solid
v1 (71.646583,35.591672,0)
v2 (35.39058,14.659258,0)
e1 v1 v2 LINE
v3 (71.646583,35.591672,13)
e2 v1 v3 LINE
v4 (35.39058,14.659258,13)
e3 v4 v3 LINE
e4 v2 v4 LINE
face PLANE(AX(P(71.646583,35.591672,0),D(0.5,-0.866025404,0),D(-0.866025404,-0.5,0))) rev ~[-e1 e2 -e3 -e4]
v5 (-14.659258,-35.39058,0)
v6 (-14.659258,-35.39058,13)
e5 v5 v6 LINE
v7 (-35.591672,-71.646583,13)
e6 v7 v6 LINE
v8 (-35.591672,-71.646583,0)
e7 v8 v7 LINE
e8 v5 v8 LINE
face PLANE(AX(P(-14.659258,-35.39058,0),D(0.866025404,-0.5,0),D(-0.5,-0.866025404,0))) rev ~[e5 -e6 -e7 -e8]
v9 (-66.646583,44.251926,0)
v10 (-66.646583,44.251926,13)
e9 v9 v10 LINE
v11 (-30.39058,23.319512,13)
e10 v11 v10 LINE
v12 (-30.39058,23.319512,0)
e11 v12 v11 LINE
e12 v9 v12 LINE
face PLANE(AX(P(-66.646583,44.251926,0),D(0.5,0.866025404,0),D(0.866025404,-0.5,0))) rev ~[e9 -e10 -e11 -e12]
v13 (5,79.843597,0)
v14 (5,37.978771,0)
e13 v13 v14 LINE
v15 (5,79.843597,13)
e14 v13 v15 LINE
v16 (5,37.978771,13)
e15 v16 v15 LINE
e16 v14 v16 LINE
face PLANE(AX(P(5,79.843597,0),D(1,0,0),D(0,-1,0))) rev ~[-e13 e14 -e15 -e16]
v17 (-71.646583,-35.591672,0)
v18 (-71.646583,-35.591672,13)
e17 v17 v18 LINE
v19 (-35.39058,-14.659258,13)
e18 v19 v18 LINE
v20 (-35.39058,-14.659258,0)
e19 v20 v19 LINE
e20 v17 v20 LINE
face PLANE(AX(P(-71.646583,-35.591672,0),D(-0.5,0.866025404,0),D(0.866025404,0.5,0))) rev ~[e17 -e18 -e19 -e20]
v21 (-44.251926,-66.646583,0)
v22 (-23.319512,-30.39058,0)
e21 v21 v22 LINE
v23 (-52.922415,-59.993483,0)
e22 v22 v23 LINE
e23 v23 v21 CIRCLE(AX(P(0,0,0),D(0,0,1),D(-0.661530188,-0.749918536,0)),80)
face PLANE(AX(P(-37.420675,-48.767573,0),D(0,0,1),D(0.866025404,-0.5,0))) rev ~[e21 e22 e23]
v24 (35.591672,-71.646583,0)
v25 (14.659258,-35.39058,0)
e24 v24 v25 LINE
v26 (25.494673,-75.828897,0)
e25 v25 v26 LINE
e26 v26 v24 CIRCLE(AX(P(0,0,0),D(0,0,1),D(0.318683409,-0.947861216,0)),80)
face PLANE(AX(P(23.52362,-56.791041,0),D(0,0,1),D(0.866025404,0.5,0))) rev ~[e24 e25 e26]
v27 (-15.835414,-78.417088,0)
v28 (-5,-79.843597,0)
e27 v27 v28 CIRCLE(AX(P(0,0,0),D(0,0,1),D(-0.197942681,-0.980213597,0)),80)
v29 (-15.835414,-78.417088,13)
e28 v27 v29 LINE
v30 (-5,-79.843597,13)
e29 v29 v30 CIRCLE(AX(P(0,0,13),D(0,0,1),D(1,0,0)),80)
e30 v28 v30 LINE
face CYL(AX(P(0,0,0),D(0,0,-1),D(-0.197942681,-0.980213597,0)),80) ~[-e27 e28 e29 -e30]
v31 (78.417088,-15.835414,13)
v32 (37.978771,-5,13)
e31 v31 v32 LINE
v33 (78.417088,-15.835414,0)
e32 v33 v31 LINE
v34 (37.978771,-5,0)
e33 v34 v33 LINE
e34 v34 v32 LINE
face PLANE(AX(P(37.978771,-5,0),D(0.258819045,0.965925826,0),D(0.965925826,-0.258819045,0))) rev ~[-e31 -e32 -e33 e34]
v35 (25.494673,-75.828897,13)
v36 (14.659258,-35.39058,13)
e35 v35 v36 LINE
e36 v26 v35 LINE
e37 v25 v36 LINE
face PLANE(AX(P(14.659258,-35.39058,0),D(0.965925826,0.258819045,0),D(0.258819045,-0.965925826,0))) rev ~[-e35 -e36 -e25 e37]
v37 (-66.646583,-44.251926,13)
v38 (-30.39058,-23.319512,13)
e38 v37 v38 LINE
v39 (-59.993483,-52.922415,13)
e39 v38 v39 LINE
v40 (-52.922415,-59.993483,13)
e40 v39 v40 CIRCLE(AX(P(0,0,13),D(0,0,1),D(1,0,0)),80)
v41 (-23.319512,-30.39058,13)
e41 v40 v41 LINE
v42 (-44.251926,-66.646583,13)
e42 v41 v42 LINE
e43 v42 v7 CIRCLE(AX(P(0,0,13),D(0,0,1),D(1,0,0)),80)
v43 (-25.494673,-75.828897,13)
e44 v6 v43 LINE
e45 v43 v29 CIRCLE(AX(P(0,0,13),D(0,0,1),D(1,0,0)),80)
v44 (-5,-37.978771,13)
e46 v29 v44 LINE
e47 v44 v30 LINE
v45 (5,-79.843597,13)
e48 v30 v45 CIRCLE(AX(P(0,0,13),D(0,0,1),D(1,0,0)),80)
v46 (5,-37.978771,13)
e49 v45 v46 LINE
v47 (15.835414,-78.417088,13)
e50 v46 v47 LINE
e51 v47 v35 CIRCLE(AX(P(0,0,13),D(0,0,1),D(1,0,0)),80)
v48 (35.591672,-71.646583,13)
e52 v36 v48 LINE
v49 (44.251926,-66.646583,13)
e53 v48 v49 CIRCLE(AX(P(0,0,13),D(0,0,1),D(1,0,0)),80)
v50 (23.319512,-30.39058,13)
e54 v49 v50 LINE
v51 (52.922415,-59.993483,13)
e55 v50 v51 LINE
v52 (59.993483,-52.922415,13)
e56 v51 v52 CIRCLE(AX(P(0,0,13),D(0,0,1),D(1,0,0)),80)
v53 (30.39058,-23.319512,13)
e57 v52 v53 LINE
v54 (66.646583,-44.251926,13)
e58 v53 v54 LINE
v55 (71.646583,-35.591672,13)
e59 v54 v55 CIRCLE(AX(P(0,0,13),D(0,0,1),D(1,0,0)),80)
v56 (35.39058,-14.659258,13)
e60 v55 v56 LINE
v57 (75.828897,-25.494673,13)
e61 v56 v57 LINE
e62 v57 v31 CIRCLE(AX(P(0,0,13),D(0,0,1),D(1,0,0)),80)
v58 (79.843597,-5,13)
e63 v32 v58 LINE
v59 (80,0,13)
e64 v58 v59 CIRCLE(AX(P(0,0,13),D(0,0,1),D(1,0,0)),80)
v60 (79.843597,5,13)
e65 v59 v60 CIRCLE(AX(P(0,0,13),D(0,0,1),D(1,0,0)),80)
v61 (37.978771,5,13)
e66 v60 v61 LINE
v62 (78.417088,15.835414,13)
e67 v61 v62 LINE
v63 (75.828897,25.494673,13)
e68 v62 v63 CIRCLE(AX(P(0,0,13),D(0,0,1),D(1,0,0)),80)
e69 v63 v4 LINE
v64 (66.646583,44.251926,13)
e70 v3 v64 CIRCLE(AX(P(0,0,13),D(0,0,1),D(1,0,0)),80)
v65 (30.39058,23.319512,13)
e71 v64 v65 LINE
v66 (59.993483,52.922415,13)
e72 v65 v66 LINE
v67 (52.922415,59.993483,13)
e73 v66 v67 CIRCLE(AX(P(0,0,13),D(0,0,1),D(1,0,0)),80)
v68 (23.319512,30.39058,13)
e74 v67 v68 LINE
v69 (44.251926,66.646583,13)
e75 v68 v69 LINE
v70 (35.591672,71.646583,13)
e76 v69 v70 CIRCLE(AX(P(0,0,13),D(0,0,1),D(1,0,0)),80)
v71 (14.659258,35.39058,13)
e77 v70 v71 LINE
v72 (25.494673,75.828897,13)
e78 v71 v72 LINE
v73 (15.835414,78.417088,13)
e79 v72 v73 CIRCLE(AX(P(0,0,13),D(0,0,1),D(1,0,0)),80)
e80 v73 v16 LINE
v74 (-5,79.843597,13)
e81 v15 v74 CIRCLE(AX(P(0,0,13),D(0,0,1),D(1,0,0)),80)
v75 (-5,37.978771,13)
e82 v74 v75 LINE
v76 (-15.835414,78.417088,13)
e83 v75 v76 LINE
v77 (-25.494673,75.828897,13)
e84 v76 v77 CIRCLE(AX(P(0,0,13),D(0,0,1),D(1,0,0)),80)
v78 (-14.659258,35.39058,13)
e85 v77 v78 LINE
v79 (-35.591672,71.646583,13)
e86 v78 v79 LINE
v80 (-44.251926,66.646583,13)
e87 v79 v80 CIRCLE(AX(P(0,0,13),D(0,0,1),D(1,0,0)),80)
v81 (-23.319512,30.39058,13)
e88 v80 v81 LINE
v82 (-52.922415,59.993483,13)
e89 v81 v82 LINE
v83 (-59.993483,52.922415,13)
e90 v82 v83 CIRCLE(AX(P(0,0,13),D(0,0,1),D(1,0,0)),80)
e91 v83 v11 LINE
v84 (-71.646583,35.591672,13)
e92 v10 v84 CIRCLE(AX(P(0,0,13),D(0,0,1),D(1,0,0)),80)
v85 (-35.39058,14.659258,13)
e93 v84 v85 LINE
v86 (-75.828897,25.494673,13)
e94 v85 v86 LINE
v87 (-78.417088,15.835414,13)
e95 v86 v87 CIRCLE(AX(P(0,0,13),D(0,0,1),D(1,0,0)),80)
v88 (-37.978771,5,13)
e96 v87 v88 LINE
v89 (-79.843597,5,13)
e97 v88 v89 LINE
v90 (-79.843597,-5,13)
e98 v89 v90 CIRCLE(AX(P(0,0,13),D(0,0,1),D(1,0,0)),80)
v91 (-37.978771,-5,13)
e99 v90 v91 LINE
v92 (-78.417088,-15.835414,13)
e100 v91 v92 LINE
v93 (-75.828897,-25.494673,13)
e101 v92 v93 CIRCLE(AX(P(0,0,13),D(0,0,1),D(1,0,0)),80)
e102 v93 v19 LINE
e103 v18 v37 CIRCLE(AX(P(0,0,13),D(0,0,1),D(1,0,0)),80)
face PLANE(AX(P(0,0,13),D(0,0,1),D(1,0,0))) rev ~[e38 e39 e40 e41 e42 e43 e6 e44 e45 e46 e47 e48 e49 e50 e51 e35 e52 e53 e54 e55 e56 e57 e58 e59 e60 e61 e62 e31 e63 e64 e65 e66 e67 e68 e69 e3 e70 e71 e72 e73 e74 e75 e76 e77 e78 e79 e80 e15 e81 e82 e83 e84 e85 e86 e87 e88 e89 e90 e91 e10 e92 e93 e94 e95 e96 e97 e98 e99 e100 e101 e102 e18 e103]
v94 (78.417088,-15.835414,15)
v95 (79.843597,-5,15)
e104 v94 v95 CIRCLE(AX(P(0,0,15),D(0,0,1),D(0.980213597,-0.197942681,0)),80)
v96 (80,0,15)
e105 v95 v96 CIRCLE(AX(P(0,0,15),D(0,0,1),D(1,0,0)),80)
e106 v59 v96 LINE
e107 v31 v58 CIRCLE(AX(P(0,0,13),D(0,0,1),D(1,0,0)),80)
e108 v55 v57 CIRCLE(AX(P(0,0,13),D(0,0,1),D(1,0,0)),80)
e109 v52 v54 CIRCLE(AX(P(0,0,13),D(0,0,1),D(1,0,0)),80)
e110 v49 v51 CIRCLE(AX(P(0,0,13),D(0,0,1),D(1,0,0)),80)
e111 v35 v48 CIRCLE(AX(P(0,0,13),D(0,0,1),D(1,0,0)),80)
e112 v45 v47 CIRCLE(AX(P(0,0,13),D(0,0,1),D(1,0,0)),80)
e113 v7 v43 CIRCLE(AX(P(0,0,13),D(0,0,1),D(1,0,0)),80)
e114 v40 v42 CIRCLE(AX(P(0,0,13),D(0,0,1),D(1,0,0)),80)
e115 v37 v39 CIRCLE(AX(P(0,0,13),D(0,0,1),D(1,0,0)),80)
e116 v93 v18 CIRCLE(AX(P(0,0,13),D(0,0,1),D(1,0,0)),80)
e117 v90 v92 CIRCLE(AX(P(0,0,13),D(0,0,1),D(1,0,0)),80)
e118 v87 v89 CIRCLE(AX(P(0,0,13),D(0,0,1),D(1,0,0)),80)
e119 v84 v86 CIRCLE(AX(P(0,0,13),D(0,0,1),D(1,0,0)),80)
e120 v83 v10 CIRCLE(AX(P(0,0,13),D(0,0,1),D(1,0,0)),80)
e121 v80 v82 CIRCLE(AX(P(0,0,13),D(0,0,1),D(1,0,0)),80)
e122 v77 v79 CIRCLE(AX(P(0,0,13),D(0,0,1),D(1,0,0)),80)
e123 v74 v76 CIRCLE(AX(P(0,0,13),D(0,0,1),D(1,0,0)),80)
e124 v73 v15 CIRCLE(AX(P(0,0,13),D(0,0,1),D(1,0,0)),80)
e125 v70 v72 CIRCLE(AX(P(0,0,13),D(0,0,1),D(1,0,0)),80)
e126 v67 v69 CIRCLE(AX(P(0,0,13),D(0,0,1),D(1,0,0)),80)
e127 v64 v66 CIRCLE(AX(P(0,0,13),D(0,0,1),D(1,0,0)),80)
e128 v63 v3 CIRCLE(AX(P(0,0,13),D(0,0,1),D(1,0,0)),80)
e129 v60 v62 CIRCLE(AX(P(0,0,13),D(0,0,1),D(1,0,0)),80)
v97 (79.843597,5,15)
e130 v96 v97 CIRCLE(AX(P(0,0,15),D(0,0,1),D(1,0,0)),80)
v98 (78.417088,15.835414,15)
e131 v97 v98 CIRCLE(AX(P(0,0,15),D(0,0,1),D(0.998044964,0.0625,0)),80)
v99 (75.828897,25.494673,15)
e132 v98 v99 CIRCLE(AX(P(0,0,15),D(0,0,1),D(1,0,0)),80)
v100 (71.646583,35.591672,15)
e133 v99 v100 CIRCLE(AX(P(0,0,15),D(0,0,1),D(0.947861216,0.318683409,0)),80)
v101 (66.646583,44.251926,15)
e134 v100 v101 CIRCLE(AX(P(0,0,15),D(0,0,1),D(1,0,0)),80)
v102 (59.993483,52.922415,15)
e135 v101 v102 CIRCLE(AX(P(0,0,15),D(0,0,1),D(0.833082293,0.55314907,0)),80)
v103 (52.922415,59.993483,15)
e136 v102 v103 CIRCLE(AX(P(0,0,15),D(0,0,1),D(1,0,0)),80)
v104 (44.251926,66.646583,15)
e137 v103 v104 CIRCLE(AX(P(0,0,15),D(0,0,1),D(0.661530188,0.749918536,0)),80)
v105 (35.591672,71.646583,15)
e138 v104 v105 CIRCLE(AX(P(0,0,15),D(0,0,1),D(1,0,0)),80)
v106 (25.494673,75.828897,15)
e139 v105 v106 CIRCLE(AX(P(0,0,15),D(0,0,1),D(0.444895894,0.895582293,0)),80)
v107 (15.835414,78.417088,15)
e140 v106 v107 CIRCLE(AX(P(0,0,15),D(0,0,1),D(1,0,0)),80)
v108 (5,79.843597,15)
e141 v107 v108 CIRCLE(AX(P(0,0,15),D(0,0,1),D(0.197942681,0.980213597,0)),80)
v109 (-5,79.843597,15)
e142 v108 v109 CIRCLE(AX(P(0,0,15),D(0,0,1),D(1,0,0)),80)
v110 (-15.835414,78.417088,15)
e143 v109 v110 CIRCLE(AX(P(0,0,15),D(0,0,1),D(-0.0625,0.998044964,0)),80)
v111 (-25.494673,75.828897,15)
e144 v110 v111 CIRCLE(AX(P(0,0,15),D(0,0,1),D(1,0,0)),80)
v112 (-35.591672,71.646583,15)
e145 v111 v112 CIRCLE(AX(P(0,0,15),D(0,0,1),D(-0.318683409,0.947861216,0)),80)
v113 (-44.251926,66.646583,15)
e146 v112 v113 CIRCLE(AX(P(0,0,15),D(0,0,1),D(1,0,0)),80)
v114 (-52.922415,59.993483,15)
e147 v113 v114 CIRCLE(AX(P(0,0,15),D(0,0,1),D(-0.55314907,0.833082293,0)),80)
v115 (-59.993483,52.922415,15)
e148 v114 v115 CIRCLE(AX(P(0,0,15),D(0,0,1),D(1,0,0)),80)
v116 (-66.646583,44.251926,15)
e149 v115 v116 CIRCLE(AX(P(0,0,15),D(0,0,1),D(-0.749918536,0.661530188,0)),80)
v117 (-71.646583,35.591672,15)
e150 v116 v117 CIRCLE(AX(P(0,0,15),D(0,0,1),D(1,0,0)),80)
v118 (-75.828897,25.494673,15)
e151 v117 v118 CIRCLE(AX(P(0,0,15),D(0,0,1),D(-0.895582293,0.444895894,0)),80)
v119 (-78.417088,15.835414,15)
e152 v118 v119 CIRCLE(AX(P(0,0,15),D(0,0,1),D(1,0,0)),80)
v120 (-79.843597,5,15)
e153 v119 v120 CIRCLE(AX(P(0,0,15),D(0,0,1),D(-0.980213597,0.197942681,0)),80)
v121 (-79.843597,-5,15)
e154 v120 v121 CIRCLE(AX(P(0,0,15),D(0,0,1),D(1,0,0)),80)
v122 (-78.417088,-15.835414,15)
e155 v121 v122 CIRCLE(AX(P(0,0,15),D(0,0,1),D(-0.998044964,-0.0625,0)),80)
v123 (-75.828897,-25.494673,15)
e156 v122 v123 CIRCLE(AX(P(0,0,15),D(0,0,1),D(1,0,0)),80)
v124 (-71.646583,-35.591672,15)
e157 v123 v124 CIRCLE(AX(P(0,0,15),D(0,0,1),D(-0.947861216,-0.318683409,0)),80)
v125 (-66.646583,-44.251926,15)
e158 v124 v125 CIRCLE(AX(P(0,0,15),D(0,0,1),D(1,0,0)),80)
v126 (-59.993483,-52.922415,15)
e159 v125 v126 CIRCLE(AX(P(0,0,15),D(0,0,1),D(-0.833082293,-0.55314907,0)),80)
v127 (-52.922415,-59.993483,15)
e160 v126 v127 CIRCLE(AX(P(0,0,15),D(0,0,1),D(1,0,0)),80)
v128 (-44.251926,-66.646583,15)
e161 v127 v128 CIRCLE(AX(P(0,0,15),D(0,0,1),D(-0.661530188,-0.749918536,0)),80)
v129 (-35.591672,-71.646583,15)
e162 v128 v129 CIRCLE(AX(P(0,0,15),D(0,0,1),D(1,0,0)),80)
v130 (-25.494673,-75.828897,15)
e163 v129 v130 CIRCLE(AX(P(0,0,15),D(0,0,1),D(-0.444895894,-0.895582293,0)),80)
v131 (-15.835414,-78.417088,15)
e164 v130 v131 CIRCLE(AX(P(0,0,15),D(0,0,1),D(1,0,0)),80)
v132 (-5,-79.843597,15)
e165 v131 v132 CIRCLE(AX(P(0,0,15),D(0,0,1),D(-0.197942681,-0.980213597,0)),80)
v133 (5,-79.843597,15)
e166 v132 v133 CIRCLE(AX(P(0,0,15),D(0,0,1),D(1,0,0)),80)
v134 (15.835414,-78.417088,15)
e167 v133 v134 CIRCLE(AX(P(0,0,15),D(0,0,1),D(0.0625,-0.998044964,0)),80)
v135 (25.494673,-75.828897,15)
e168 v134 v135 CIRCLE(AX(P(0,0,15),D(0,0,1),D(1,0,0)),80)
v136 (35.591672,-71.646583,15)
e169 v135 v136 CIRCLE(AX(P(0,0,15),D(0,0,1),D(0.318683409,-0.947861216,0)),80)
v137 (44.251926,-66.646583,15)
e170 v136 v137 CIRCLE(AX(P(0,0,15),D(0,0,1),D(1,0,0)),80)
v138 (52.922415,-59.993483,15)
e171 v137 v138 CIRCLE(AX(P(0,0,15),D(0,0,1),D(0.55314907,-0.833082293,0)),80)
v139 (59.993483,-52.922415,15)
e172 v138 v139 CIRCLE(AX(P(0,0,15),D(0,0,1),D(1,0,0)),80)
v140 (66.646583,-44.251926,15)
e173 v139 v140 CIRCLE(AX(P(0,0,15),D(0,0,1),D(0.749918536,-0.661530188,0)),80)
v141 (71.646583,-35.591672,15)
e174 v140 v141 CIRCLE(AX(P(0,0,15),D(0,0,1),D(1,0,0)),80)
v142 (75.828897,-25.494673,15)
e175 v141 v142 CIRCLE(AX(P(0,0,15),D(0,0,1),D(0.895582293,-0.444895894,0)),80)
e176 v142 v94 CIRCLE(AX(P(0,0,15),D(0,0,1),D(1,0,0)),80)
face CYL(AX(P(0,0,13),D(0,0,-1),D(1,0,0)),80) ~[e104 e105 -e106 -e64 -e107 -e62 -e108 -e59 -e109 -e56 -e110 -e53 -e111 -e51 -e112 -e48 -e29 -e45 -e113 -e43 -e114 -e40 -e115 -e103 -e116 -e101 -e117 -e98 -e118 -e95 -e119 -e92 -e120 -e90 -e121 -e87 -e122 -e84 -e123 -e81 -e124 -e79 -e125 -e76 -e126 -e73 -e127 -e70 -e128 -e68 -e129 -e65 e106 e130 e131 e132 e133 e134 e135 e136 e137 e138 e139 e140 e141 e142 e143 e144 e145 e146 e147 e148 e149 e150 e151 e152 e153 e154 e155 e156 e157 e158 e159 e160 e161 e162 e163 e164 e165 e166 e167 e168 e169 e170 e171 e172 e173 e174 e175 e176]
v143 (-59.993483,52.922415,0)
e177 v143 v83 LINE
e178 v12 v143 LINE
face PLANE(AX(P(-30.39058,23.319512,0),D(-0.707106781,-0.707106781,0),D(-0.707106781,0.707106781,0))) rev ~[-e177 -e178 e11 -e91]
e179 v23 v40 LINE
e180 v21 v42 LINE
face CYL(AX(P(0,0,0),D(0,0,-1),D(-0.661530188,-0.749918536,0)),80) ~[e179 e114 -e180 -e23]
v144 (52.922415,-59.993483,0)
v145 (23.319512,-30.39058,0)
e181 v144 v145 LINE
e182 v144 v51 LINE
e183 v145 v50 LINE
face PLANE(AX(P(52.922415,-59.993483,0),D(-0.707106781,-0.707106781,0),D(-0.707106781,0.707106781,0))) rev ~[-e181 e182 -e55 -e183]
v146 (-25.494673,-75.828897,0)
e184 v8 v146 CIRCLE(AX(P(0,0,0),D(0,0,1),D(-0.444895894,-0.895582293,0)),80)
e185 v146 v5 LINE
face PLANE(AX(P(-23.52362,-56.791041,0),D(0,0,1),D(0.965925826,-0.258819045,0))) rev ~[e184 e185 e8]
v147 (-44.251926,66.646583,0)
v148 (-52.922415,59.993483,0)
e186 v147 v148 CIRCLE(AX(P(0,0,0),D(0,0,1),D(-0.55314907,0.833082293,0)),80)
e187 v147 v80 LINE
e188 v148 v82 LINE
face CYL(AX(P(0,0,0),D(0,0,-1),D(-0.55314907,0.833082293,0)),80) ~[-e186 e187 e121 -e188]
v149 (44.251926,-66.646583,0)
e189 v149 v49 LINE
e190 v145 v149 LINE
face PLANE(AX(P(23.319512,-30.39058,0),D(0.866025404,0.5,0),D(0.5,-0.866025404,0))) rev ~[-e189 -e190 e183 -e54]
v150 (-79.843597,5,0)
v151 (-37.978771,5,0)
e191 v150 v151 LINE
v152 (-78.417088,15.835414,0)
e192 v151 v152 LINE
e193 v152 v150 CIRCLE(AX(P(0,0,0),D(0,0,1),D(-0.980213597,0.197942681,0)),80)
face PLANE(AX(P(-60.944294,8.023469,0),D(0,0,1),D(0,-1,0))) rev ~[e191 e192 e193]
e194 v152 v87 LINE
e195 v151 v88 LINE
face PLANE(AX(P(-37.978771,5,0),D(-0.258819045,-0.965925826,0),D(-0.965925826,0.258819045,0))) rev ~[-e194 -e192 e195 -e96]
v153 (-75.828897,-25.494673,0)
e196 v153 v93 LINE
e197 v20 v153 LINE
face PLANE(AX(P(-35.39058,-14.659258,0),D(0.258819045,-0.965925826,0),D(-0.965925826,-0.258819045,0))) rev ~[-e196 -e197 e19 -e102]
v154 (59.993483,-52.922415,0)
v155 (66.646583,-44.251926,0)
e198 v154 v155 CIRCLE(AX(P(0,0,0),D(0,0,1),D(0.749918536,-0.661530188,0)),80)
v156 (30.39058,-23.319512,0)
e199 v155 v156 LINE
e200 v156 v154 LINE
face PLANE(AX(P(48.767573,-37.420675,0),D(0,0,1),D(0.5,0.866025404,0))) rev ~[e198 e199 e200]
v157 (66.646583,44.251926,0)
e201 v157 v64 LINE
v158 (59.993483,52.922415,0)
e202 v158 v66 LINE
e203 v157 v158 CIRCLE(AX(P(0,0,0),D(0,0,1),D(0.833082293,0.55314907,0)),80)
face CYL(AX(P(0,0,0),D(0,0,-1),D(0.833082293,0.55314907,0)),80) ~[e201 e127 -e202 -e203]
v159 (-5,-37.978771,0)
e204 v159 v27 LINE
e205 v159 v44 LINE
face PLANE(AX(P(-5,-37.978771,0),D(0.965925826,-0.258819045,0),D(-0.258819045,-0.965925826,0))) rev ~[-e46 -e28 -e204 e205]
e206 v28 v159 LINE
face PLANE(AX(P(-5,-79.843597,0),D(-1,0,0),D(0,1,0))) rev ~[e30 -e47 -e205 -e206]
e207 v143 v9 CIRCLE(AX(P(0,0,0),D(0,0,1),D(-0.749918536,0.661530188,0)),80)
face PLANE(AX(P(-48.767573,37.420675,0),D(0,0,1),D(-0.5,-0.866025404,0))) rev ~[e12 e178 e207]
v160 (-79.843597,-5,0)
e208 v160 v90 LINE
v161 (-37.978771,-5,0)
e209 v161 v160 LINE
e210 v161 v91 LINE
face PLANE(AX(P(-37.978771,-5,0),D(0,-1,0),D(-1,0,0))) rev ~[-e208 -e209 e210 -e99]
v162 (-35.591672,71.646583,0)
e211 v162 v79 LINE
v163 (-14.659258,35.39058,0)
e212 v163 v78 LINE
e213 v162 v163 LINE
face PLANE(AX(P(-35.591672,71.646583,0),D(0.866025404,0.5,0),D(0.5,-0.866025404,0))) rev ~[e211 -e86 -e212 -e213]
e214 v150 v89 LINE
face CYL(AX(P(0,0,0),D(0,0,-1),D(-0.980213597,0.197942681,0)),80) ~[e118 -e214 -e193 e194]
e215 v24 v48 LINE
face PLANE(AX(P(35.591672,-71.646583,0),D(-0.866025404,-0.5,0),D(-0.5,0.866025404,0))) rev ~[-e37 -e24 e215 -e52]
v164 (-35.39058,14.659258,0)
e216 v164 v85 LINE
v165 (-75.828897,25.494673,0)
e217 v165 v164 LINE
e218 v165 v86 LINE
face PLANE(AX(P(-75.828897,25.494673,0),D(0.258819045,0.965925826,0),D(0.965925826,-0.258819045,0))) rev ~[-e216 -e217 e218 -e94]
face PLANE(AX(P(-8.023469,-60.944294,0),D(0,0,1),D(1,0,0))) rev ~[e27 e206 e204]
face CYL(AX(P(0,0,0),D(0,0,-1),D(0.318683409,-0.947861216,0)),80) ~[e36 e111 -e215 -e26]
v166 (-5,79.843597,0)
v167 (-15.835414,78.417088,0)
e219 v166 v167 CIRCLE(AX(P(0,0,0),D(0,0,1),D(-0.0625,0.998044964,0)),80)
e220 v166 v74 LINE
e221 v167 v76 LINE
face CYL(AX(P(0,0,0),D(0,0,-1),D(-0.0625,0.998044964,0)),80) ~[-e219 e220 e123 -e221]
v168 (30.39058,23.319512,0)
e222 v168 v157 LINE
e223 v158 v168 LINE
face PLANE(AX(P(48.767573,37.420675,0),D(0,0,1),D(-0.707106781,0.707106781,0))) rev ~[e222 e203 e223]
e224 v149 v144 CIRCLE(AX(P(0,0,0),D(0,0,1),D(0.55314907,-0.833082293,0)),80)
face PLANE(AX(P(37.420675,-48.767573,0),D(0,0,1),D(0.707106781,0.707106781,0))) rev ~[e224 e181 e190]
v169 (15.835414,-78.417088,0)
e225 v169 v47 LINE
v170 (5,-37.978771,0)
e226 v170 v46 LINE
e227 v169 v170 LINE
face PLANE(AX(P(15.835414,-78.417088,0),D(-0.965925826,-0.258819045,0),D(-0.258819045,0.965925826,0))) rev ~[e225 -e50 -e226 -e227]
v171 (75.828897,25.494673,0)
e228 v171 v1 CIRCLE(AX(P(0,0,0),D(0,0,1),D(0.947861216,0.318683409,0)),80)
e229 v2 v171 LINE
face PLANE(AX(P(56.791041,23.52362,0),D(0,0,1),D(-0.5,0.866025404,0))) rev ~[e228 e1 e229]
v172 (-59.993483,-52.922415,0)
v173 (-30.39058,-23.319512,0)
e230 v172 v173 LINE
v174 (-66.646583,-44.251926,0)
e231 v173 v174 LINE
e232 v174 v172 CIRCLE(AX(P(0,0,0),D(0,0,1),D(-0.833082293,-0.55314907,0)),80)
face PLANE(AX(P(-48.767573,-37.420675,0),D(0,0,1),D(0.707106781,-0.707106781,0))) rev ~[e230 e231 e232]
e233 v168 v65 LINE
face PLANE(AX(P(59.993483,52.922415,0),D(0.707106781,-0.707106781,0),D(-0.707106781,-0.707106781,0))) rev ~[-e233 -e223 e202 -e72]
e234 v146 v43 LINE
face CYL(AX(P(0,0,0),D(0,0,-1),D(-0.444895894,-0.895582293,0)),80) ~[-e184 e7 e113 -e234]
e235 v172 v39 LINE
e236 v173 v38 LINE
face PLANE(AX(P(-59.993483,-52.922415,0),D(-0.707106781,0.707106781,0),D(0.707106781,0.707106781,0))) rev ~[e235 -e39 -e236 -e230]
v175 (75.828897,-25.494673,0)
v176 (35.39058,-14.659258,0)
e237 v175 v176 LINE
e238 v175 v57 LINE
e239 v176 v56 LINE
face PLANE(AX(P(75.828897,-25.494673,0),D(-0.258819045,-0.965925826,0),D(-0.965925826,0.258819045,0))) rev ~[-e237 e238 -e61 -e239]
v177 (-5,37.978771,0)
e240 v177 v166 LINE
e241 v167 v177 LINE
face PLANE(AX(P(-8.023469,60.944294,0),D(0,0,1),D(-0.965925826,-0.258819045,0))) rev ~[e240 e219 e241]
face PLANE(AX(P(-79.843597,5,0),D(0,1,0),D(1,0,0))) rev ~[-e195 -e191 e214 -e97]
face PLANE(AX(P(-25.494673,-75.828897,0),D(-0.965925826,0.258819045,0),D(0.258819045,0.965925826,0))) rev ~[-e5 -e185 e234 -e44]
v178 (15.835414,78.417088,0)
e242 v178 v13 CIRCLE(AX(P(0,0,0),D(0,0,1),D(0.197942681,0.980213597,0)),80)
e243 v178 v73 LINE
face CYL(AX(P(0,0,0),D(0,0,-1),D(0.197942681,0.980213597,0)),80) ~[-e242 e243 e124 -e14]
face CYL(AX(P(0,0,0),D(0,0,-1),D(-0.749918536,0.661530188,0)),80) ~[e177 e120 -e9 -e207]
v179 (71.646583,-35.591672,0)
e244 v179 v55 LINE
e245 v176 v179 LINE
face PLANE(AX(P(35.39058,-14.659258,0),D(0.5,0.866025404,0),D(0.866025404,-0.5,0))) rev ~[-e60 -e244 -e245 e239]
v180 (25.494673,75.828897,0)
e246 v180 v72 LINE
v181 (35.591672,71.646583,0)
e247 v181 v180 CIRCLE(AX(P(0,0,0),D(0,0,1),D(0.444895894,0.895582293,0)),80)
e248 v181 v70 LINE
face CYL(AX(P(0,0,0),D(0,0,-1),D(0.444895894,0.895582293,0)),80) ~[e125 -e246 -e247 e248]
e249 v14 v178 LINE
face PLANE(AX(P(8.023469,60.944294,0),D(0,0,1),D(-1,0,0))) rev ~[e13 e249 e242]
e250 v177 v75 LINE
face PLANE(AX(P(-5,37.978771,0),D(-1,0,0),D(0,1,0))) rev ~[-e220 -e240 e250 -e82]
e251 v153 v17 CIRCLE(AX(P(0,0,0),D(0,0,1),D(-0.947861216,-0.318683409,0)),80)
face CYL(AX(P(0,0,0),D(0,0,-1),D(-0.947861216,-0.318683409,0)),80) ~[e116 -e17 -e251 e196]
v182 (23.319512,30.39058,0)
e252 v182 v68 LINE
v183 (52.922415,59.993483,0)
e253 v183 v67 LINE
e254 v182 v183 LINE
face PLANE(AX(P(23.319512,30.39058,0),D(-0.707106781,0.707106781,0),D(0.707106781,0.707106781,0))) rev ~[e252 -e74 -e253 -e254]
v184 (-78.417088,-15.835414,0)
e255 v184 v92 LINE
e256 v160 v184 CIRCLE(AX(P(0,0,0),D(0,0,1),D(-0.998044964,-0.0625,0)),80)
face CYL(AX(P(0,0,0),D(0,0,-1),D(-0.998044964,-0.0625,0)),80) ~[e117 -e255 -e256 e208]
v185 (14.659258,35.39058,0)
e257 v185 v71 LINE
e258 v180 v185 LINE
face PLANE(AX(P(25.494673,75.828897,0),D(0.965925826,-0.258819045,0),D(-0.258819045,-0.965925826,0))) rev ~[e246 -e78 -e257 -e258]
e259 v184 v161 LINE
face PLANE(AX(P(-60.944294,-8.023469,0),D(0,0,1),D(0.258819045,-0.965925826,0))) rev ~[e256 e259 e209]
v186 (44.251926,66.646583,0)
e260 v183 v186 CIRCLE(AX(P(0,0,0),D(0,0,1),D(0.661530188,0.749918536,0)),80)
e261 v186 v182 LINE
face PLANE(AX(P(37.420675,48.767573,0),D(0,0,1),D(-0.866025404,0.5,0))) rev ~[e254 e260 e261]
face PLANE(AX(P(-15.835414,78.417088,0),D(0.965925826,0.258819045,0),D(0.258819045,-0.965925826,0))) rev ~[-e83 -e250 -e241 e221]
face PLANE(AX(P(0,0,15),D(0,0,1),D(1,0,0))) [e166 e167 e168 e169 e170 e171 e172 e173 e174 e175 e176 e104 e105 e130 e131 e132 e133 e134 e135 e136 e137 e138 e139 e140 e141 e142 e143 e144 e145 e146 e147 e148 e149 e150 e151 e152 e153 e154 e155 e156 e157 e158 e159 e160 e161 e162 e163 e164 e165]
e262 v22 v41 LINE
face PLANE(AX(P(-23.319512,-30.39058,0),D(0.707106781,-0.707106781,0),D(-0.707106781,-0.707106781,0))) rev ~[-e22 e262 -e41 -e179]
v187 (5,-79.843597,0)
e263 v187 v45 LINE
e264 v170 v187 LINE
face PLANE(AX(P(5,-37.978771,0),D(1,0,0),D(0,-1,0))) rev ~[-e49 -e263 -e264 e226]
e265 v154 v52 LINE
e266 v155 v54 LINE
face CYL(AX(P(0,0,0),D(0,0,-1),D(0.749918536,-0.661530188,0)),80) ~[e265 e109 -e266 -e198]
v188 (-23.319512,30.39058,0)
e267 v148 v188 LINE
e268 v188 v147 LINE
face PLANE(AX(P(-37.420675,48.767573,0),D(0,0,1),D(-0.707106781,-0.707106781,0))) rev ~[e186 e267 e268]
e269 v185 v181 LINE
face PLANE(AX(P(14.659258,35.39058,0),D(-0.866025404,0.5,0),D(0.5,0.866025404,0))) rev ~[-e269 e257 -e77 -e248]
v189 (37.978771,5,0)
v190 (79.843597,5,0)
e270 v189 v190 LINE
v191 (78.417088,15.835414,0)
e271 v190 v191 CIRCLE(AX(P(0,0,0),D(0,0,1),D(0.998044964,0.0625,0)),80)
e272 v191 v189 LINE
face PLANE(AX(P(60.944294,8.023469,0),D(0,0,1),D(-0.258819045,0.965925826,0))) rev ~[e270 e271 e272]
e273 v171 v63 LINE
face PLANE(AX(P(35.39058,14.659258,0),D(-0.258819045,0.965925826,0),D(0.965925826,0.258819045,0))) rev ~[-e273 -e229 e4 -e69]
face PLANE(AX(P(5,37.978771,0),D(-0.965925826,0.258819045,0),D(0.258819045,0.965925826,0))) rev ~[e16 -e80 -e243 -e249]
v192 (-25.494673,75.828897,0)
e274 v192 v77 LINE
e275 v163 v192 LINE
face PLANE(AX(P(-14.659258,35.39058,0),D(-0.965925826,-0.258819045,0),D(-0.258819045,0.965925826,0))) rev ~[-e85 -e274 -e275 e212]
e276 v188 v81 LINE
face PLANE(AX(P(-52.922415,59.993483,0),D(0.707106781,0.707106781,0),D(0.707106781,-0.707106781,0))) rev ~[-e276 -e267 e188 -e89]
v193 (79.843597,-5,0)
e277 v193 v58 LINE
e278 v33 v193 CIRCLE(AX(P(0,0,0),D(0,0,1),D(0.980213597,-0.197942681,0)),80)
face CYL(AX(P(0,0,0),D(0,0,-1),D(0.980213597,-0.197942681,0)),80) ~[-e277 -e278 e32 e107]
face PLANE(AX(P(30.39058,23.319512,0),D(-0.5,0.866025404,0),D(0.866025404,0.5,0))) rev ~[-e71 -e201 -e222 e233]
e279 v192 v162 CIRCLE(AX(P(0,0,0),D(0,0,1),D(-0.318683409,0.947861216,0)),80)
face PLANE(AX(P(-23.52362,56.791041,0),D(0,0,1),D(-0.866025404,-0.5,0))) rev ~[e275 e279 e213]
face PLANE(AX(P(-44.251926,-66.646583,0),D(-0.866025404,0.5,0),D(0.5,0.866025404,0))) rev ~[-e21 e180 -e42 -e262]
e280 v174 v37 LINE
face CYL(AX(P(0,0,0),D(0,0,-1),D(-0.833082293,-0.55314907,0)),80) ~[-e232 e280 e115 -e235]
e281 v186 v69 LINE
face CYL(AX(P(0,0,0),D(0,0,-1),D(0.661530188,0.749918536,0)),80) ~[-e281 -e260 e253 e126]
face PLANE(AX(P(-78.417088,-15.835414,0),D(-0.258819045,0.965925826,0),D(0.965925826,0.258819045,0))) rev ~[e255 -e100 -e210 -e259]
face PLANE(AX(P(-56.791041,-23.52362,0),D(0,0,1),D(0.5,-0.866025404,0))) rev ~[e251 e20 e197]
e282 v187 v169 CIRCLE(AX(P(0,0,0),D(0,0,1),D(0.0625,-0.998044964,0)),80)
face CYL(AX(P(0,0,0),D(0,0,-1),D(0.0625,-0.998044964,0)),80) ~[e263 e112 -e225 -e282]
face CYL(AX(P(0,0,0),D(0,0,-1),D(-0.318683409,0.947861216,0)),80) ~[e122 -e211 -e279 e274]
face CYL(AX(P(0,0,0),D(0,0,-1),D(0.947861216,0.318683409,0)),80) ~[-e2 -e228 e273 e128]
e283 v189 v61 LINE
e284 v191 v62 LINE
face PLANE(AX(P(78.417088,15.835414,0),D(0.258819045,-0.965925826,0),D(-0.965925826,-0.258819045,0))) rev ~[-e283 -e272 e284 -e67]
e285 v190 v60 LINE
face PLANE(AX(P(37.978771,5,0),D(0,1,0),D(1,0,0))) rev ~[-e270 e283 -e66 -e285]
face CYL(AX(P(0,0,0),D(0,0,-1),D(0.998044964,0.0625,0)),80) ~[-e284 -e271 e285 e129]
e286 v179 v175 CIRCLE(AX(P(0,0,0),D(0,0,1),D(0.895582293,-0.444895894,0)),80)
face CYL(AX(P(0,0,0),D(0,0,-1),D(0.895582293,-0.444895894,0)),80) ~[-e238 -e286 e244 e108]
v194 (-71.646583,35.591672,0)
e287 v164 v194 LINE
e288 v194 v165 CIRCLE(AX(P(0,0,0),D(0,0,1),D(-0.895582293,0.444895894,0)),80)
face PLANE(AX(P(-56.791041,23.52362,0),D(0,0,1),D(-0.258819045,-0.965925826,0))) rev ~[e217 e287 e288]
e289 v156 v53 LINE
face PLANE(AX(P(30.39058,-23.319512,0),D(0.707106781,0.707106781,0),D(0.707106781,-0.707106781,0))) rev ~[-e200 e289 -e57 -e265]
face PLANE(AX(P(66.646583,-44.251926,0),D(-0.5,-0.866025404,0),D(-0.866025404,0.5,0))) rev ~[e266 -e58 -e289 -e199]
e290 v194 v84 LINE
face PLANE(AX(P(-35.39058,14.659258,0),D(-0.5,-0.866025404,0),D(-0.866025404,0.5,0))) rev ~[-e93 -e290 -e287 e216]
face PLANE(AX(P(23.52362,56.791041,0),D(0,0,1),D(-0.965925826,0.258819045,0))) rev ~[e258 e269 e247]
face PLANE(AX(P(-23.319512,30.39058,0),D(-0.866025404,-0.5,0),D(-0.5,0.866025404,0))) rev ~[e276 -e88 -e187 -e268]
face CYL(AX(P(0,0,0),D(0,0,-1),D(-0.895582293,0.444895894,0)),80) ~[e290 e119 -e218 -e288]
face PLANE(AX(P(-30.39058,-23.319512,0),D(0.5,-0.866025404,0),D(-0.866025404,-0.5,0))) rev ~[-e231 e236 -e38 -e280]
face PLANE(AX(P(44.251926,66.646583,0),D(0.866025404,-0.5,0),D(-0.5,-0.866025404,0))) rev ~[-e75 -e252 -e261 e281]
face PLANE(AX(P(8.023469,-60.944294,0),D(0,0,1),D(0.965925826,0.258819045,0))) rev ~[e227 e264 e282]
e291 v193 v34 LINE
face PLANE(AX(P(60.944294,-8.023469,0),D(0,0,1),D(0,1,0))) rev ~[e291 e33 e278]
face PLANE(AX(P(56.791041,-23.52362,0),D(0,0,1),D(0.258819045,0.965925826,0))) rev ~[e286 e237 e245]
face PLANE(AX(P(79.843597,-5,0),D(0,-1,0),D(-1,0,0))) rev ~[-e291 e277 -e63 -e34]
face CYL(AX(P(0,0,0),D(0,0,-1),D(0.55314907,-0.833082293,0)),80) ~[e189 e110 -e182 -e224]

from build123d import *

# Parameters (mm, degrees)
BOSS_EXTRUDE1_START = 13
SKETCH1_R           = 80
BOSS_EXTRUDE1_DEPTH = 2
BOSS_EXTRUDE2_START = -15
BOSS_EXTRUDE2_DEPTH = 15
CIRPATTERN1_COUNT   = 24


with BuildPart() as part:
    # Sketch1 → Boss-Extrude1 (new body)
    with BuildSketch(Plane.XY.offset(BOSS_EXTRUDE1_START)):
        Circle(SKETCH1_R)
    extrude(amount=BOSS_EXTRUDE1_DEPTH)

    # Sketch3 → Boss-Extrude2 (add)
    with BuildSketch(Plane.XY.offset(15).offset(BOSS_EXTRUDE2_START)):
        with BuildLine():
            Line((-5, -79.843597113), (-5, -37.978770564))
            Line((-5, -37.978770564), (-15.835414431, -78.417087741))
            ThreePointArc((-15.835414431, -78.417087741), (-10.442095378, -79.31558891), (-5, -79.843597113))
        make_face()
    boss_extrude2 = extrude(amount=BOSS_EXTRUDE2_DEPTH)

    # CirPattern1: Boss-Extrude2 ×24 about axis
    cirpattern1_axis = Axis((0, 0, 0), (0, 0, 1))
    for i in range(1, CIRPATTERN1_COUNT):
        add(boss_extrude2.rotate(cirpattern1_axis, i * 360 / CIRPATTERN1_COUNT))


solid = part.part
